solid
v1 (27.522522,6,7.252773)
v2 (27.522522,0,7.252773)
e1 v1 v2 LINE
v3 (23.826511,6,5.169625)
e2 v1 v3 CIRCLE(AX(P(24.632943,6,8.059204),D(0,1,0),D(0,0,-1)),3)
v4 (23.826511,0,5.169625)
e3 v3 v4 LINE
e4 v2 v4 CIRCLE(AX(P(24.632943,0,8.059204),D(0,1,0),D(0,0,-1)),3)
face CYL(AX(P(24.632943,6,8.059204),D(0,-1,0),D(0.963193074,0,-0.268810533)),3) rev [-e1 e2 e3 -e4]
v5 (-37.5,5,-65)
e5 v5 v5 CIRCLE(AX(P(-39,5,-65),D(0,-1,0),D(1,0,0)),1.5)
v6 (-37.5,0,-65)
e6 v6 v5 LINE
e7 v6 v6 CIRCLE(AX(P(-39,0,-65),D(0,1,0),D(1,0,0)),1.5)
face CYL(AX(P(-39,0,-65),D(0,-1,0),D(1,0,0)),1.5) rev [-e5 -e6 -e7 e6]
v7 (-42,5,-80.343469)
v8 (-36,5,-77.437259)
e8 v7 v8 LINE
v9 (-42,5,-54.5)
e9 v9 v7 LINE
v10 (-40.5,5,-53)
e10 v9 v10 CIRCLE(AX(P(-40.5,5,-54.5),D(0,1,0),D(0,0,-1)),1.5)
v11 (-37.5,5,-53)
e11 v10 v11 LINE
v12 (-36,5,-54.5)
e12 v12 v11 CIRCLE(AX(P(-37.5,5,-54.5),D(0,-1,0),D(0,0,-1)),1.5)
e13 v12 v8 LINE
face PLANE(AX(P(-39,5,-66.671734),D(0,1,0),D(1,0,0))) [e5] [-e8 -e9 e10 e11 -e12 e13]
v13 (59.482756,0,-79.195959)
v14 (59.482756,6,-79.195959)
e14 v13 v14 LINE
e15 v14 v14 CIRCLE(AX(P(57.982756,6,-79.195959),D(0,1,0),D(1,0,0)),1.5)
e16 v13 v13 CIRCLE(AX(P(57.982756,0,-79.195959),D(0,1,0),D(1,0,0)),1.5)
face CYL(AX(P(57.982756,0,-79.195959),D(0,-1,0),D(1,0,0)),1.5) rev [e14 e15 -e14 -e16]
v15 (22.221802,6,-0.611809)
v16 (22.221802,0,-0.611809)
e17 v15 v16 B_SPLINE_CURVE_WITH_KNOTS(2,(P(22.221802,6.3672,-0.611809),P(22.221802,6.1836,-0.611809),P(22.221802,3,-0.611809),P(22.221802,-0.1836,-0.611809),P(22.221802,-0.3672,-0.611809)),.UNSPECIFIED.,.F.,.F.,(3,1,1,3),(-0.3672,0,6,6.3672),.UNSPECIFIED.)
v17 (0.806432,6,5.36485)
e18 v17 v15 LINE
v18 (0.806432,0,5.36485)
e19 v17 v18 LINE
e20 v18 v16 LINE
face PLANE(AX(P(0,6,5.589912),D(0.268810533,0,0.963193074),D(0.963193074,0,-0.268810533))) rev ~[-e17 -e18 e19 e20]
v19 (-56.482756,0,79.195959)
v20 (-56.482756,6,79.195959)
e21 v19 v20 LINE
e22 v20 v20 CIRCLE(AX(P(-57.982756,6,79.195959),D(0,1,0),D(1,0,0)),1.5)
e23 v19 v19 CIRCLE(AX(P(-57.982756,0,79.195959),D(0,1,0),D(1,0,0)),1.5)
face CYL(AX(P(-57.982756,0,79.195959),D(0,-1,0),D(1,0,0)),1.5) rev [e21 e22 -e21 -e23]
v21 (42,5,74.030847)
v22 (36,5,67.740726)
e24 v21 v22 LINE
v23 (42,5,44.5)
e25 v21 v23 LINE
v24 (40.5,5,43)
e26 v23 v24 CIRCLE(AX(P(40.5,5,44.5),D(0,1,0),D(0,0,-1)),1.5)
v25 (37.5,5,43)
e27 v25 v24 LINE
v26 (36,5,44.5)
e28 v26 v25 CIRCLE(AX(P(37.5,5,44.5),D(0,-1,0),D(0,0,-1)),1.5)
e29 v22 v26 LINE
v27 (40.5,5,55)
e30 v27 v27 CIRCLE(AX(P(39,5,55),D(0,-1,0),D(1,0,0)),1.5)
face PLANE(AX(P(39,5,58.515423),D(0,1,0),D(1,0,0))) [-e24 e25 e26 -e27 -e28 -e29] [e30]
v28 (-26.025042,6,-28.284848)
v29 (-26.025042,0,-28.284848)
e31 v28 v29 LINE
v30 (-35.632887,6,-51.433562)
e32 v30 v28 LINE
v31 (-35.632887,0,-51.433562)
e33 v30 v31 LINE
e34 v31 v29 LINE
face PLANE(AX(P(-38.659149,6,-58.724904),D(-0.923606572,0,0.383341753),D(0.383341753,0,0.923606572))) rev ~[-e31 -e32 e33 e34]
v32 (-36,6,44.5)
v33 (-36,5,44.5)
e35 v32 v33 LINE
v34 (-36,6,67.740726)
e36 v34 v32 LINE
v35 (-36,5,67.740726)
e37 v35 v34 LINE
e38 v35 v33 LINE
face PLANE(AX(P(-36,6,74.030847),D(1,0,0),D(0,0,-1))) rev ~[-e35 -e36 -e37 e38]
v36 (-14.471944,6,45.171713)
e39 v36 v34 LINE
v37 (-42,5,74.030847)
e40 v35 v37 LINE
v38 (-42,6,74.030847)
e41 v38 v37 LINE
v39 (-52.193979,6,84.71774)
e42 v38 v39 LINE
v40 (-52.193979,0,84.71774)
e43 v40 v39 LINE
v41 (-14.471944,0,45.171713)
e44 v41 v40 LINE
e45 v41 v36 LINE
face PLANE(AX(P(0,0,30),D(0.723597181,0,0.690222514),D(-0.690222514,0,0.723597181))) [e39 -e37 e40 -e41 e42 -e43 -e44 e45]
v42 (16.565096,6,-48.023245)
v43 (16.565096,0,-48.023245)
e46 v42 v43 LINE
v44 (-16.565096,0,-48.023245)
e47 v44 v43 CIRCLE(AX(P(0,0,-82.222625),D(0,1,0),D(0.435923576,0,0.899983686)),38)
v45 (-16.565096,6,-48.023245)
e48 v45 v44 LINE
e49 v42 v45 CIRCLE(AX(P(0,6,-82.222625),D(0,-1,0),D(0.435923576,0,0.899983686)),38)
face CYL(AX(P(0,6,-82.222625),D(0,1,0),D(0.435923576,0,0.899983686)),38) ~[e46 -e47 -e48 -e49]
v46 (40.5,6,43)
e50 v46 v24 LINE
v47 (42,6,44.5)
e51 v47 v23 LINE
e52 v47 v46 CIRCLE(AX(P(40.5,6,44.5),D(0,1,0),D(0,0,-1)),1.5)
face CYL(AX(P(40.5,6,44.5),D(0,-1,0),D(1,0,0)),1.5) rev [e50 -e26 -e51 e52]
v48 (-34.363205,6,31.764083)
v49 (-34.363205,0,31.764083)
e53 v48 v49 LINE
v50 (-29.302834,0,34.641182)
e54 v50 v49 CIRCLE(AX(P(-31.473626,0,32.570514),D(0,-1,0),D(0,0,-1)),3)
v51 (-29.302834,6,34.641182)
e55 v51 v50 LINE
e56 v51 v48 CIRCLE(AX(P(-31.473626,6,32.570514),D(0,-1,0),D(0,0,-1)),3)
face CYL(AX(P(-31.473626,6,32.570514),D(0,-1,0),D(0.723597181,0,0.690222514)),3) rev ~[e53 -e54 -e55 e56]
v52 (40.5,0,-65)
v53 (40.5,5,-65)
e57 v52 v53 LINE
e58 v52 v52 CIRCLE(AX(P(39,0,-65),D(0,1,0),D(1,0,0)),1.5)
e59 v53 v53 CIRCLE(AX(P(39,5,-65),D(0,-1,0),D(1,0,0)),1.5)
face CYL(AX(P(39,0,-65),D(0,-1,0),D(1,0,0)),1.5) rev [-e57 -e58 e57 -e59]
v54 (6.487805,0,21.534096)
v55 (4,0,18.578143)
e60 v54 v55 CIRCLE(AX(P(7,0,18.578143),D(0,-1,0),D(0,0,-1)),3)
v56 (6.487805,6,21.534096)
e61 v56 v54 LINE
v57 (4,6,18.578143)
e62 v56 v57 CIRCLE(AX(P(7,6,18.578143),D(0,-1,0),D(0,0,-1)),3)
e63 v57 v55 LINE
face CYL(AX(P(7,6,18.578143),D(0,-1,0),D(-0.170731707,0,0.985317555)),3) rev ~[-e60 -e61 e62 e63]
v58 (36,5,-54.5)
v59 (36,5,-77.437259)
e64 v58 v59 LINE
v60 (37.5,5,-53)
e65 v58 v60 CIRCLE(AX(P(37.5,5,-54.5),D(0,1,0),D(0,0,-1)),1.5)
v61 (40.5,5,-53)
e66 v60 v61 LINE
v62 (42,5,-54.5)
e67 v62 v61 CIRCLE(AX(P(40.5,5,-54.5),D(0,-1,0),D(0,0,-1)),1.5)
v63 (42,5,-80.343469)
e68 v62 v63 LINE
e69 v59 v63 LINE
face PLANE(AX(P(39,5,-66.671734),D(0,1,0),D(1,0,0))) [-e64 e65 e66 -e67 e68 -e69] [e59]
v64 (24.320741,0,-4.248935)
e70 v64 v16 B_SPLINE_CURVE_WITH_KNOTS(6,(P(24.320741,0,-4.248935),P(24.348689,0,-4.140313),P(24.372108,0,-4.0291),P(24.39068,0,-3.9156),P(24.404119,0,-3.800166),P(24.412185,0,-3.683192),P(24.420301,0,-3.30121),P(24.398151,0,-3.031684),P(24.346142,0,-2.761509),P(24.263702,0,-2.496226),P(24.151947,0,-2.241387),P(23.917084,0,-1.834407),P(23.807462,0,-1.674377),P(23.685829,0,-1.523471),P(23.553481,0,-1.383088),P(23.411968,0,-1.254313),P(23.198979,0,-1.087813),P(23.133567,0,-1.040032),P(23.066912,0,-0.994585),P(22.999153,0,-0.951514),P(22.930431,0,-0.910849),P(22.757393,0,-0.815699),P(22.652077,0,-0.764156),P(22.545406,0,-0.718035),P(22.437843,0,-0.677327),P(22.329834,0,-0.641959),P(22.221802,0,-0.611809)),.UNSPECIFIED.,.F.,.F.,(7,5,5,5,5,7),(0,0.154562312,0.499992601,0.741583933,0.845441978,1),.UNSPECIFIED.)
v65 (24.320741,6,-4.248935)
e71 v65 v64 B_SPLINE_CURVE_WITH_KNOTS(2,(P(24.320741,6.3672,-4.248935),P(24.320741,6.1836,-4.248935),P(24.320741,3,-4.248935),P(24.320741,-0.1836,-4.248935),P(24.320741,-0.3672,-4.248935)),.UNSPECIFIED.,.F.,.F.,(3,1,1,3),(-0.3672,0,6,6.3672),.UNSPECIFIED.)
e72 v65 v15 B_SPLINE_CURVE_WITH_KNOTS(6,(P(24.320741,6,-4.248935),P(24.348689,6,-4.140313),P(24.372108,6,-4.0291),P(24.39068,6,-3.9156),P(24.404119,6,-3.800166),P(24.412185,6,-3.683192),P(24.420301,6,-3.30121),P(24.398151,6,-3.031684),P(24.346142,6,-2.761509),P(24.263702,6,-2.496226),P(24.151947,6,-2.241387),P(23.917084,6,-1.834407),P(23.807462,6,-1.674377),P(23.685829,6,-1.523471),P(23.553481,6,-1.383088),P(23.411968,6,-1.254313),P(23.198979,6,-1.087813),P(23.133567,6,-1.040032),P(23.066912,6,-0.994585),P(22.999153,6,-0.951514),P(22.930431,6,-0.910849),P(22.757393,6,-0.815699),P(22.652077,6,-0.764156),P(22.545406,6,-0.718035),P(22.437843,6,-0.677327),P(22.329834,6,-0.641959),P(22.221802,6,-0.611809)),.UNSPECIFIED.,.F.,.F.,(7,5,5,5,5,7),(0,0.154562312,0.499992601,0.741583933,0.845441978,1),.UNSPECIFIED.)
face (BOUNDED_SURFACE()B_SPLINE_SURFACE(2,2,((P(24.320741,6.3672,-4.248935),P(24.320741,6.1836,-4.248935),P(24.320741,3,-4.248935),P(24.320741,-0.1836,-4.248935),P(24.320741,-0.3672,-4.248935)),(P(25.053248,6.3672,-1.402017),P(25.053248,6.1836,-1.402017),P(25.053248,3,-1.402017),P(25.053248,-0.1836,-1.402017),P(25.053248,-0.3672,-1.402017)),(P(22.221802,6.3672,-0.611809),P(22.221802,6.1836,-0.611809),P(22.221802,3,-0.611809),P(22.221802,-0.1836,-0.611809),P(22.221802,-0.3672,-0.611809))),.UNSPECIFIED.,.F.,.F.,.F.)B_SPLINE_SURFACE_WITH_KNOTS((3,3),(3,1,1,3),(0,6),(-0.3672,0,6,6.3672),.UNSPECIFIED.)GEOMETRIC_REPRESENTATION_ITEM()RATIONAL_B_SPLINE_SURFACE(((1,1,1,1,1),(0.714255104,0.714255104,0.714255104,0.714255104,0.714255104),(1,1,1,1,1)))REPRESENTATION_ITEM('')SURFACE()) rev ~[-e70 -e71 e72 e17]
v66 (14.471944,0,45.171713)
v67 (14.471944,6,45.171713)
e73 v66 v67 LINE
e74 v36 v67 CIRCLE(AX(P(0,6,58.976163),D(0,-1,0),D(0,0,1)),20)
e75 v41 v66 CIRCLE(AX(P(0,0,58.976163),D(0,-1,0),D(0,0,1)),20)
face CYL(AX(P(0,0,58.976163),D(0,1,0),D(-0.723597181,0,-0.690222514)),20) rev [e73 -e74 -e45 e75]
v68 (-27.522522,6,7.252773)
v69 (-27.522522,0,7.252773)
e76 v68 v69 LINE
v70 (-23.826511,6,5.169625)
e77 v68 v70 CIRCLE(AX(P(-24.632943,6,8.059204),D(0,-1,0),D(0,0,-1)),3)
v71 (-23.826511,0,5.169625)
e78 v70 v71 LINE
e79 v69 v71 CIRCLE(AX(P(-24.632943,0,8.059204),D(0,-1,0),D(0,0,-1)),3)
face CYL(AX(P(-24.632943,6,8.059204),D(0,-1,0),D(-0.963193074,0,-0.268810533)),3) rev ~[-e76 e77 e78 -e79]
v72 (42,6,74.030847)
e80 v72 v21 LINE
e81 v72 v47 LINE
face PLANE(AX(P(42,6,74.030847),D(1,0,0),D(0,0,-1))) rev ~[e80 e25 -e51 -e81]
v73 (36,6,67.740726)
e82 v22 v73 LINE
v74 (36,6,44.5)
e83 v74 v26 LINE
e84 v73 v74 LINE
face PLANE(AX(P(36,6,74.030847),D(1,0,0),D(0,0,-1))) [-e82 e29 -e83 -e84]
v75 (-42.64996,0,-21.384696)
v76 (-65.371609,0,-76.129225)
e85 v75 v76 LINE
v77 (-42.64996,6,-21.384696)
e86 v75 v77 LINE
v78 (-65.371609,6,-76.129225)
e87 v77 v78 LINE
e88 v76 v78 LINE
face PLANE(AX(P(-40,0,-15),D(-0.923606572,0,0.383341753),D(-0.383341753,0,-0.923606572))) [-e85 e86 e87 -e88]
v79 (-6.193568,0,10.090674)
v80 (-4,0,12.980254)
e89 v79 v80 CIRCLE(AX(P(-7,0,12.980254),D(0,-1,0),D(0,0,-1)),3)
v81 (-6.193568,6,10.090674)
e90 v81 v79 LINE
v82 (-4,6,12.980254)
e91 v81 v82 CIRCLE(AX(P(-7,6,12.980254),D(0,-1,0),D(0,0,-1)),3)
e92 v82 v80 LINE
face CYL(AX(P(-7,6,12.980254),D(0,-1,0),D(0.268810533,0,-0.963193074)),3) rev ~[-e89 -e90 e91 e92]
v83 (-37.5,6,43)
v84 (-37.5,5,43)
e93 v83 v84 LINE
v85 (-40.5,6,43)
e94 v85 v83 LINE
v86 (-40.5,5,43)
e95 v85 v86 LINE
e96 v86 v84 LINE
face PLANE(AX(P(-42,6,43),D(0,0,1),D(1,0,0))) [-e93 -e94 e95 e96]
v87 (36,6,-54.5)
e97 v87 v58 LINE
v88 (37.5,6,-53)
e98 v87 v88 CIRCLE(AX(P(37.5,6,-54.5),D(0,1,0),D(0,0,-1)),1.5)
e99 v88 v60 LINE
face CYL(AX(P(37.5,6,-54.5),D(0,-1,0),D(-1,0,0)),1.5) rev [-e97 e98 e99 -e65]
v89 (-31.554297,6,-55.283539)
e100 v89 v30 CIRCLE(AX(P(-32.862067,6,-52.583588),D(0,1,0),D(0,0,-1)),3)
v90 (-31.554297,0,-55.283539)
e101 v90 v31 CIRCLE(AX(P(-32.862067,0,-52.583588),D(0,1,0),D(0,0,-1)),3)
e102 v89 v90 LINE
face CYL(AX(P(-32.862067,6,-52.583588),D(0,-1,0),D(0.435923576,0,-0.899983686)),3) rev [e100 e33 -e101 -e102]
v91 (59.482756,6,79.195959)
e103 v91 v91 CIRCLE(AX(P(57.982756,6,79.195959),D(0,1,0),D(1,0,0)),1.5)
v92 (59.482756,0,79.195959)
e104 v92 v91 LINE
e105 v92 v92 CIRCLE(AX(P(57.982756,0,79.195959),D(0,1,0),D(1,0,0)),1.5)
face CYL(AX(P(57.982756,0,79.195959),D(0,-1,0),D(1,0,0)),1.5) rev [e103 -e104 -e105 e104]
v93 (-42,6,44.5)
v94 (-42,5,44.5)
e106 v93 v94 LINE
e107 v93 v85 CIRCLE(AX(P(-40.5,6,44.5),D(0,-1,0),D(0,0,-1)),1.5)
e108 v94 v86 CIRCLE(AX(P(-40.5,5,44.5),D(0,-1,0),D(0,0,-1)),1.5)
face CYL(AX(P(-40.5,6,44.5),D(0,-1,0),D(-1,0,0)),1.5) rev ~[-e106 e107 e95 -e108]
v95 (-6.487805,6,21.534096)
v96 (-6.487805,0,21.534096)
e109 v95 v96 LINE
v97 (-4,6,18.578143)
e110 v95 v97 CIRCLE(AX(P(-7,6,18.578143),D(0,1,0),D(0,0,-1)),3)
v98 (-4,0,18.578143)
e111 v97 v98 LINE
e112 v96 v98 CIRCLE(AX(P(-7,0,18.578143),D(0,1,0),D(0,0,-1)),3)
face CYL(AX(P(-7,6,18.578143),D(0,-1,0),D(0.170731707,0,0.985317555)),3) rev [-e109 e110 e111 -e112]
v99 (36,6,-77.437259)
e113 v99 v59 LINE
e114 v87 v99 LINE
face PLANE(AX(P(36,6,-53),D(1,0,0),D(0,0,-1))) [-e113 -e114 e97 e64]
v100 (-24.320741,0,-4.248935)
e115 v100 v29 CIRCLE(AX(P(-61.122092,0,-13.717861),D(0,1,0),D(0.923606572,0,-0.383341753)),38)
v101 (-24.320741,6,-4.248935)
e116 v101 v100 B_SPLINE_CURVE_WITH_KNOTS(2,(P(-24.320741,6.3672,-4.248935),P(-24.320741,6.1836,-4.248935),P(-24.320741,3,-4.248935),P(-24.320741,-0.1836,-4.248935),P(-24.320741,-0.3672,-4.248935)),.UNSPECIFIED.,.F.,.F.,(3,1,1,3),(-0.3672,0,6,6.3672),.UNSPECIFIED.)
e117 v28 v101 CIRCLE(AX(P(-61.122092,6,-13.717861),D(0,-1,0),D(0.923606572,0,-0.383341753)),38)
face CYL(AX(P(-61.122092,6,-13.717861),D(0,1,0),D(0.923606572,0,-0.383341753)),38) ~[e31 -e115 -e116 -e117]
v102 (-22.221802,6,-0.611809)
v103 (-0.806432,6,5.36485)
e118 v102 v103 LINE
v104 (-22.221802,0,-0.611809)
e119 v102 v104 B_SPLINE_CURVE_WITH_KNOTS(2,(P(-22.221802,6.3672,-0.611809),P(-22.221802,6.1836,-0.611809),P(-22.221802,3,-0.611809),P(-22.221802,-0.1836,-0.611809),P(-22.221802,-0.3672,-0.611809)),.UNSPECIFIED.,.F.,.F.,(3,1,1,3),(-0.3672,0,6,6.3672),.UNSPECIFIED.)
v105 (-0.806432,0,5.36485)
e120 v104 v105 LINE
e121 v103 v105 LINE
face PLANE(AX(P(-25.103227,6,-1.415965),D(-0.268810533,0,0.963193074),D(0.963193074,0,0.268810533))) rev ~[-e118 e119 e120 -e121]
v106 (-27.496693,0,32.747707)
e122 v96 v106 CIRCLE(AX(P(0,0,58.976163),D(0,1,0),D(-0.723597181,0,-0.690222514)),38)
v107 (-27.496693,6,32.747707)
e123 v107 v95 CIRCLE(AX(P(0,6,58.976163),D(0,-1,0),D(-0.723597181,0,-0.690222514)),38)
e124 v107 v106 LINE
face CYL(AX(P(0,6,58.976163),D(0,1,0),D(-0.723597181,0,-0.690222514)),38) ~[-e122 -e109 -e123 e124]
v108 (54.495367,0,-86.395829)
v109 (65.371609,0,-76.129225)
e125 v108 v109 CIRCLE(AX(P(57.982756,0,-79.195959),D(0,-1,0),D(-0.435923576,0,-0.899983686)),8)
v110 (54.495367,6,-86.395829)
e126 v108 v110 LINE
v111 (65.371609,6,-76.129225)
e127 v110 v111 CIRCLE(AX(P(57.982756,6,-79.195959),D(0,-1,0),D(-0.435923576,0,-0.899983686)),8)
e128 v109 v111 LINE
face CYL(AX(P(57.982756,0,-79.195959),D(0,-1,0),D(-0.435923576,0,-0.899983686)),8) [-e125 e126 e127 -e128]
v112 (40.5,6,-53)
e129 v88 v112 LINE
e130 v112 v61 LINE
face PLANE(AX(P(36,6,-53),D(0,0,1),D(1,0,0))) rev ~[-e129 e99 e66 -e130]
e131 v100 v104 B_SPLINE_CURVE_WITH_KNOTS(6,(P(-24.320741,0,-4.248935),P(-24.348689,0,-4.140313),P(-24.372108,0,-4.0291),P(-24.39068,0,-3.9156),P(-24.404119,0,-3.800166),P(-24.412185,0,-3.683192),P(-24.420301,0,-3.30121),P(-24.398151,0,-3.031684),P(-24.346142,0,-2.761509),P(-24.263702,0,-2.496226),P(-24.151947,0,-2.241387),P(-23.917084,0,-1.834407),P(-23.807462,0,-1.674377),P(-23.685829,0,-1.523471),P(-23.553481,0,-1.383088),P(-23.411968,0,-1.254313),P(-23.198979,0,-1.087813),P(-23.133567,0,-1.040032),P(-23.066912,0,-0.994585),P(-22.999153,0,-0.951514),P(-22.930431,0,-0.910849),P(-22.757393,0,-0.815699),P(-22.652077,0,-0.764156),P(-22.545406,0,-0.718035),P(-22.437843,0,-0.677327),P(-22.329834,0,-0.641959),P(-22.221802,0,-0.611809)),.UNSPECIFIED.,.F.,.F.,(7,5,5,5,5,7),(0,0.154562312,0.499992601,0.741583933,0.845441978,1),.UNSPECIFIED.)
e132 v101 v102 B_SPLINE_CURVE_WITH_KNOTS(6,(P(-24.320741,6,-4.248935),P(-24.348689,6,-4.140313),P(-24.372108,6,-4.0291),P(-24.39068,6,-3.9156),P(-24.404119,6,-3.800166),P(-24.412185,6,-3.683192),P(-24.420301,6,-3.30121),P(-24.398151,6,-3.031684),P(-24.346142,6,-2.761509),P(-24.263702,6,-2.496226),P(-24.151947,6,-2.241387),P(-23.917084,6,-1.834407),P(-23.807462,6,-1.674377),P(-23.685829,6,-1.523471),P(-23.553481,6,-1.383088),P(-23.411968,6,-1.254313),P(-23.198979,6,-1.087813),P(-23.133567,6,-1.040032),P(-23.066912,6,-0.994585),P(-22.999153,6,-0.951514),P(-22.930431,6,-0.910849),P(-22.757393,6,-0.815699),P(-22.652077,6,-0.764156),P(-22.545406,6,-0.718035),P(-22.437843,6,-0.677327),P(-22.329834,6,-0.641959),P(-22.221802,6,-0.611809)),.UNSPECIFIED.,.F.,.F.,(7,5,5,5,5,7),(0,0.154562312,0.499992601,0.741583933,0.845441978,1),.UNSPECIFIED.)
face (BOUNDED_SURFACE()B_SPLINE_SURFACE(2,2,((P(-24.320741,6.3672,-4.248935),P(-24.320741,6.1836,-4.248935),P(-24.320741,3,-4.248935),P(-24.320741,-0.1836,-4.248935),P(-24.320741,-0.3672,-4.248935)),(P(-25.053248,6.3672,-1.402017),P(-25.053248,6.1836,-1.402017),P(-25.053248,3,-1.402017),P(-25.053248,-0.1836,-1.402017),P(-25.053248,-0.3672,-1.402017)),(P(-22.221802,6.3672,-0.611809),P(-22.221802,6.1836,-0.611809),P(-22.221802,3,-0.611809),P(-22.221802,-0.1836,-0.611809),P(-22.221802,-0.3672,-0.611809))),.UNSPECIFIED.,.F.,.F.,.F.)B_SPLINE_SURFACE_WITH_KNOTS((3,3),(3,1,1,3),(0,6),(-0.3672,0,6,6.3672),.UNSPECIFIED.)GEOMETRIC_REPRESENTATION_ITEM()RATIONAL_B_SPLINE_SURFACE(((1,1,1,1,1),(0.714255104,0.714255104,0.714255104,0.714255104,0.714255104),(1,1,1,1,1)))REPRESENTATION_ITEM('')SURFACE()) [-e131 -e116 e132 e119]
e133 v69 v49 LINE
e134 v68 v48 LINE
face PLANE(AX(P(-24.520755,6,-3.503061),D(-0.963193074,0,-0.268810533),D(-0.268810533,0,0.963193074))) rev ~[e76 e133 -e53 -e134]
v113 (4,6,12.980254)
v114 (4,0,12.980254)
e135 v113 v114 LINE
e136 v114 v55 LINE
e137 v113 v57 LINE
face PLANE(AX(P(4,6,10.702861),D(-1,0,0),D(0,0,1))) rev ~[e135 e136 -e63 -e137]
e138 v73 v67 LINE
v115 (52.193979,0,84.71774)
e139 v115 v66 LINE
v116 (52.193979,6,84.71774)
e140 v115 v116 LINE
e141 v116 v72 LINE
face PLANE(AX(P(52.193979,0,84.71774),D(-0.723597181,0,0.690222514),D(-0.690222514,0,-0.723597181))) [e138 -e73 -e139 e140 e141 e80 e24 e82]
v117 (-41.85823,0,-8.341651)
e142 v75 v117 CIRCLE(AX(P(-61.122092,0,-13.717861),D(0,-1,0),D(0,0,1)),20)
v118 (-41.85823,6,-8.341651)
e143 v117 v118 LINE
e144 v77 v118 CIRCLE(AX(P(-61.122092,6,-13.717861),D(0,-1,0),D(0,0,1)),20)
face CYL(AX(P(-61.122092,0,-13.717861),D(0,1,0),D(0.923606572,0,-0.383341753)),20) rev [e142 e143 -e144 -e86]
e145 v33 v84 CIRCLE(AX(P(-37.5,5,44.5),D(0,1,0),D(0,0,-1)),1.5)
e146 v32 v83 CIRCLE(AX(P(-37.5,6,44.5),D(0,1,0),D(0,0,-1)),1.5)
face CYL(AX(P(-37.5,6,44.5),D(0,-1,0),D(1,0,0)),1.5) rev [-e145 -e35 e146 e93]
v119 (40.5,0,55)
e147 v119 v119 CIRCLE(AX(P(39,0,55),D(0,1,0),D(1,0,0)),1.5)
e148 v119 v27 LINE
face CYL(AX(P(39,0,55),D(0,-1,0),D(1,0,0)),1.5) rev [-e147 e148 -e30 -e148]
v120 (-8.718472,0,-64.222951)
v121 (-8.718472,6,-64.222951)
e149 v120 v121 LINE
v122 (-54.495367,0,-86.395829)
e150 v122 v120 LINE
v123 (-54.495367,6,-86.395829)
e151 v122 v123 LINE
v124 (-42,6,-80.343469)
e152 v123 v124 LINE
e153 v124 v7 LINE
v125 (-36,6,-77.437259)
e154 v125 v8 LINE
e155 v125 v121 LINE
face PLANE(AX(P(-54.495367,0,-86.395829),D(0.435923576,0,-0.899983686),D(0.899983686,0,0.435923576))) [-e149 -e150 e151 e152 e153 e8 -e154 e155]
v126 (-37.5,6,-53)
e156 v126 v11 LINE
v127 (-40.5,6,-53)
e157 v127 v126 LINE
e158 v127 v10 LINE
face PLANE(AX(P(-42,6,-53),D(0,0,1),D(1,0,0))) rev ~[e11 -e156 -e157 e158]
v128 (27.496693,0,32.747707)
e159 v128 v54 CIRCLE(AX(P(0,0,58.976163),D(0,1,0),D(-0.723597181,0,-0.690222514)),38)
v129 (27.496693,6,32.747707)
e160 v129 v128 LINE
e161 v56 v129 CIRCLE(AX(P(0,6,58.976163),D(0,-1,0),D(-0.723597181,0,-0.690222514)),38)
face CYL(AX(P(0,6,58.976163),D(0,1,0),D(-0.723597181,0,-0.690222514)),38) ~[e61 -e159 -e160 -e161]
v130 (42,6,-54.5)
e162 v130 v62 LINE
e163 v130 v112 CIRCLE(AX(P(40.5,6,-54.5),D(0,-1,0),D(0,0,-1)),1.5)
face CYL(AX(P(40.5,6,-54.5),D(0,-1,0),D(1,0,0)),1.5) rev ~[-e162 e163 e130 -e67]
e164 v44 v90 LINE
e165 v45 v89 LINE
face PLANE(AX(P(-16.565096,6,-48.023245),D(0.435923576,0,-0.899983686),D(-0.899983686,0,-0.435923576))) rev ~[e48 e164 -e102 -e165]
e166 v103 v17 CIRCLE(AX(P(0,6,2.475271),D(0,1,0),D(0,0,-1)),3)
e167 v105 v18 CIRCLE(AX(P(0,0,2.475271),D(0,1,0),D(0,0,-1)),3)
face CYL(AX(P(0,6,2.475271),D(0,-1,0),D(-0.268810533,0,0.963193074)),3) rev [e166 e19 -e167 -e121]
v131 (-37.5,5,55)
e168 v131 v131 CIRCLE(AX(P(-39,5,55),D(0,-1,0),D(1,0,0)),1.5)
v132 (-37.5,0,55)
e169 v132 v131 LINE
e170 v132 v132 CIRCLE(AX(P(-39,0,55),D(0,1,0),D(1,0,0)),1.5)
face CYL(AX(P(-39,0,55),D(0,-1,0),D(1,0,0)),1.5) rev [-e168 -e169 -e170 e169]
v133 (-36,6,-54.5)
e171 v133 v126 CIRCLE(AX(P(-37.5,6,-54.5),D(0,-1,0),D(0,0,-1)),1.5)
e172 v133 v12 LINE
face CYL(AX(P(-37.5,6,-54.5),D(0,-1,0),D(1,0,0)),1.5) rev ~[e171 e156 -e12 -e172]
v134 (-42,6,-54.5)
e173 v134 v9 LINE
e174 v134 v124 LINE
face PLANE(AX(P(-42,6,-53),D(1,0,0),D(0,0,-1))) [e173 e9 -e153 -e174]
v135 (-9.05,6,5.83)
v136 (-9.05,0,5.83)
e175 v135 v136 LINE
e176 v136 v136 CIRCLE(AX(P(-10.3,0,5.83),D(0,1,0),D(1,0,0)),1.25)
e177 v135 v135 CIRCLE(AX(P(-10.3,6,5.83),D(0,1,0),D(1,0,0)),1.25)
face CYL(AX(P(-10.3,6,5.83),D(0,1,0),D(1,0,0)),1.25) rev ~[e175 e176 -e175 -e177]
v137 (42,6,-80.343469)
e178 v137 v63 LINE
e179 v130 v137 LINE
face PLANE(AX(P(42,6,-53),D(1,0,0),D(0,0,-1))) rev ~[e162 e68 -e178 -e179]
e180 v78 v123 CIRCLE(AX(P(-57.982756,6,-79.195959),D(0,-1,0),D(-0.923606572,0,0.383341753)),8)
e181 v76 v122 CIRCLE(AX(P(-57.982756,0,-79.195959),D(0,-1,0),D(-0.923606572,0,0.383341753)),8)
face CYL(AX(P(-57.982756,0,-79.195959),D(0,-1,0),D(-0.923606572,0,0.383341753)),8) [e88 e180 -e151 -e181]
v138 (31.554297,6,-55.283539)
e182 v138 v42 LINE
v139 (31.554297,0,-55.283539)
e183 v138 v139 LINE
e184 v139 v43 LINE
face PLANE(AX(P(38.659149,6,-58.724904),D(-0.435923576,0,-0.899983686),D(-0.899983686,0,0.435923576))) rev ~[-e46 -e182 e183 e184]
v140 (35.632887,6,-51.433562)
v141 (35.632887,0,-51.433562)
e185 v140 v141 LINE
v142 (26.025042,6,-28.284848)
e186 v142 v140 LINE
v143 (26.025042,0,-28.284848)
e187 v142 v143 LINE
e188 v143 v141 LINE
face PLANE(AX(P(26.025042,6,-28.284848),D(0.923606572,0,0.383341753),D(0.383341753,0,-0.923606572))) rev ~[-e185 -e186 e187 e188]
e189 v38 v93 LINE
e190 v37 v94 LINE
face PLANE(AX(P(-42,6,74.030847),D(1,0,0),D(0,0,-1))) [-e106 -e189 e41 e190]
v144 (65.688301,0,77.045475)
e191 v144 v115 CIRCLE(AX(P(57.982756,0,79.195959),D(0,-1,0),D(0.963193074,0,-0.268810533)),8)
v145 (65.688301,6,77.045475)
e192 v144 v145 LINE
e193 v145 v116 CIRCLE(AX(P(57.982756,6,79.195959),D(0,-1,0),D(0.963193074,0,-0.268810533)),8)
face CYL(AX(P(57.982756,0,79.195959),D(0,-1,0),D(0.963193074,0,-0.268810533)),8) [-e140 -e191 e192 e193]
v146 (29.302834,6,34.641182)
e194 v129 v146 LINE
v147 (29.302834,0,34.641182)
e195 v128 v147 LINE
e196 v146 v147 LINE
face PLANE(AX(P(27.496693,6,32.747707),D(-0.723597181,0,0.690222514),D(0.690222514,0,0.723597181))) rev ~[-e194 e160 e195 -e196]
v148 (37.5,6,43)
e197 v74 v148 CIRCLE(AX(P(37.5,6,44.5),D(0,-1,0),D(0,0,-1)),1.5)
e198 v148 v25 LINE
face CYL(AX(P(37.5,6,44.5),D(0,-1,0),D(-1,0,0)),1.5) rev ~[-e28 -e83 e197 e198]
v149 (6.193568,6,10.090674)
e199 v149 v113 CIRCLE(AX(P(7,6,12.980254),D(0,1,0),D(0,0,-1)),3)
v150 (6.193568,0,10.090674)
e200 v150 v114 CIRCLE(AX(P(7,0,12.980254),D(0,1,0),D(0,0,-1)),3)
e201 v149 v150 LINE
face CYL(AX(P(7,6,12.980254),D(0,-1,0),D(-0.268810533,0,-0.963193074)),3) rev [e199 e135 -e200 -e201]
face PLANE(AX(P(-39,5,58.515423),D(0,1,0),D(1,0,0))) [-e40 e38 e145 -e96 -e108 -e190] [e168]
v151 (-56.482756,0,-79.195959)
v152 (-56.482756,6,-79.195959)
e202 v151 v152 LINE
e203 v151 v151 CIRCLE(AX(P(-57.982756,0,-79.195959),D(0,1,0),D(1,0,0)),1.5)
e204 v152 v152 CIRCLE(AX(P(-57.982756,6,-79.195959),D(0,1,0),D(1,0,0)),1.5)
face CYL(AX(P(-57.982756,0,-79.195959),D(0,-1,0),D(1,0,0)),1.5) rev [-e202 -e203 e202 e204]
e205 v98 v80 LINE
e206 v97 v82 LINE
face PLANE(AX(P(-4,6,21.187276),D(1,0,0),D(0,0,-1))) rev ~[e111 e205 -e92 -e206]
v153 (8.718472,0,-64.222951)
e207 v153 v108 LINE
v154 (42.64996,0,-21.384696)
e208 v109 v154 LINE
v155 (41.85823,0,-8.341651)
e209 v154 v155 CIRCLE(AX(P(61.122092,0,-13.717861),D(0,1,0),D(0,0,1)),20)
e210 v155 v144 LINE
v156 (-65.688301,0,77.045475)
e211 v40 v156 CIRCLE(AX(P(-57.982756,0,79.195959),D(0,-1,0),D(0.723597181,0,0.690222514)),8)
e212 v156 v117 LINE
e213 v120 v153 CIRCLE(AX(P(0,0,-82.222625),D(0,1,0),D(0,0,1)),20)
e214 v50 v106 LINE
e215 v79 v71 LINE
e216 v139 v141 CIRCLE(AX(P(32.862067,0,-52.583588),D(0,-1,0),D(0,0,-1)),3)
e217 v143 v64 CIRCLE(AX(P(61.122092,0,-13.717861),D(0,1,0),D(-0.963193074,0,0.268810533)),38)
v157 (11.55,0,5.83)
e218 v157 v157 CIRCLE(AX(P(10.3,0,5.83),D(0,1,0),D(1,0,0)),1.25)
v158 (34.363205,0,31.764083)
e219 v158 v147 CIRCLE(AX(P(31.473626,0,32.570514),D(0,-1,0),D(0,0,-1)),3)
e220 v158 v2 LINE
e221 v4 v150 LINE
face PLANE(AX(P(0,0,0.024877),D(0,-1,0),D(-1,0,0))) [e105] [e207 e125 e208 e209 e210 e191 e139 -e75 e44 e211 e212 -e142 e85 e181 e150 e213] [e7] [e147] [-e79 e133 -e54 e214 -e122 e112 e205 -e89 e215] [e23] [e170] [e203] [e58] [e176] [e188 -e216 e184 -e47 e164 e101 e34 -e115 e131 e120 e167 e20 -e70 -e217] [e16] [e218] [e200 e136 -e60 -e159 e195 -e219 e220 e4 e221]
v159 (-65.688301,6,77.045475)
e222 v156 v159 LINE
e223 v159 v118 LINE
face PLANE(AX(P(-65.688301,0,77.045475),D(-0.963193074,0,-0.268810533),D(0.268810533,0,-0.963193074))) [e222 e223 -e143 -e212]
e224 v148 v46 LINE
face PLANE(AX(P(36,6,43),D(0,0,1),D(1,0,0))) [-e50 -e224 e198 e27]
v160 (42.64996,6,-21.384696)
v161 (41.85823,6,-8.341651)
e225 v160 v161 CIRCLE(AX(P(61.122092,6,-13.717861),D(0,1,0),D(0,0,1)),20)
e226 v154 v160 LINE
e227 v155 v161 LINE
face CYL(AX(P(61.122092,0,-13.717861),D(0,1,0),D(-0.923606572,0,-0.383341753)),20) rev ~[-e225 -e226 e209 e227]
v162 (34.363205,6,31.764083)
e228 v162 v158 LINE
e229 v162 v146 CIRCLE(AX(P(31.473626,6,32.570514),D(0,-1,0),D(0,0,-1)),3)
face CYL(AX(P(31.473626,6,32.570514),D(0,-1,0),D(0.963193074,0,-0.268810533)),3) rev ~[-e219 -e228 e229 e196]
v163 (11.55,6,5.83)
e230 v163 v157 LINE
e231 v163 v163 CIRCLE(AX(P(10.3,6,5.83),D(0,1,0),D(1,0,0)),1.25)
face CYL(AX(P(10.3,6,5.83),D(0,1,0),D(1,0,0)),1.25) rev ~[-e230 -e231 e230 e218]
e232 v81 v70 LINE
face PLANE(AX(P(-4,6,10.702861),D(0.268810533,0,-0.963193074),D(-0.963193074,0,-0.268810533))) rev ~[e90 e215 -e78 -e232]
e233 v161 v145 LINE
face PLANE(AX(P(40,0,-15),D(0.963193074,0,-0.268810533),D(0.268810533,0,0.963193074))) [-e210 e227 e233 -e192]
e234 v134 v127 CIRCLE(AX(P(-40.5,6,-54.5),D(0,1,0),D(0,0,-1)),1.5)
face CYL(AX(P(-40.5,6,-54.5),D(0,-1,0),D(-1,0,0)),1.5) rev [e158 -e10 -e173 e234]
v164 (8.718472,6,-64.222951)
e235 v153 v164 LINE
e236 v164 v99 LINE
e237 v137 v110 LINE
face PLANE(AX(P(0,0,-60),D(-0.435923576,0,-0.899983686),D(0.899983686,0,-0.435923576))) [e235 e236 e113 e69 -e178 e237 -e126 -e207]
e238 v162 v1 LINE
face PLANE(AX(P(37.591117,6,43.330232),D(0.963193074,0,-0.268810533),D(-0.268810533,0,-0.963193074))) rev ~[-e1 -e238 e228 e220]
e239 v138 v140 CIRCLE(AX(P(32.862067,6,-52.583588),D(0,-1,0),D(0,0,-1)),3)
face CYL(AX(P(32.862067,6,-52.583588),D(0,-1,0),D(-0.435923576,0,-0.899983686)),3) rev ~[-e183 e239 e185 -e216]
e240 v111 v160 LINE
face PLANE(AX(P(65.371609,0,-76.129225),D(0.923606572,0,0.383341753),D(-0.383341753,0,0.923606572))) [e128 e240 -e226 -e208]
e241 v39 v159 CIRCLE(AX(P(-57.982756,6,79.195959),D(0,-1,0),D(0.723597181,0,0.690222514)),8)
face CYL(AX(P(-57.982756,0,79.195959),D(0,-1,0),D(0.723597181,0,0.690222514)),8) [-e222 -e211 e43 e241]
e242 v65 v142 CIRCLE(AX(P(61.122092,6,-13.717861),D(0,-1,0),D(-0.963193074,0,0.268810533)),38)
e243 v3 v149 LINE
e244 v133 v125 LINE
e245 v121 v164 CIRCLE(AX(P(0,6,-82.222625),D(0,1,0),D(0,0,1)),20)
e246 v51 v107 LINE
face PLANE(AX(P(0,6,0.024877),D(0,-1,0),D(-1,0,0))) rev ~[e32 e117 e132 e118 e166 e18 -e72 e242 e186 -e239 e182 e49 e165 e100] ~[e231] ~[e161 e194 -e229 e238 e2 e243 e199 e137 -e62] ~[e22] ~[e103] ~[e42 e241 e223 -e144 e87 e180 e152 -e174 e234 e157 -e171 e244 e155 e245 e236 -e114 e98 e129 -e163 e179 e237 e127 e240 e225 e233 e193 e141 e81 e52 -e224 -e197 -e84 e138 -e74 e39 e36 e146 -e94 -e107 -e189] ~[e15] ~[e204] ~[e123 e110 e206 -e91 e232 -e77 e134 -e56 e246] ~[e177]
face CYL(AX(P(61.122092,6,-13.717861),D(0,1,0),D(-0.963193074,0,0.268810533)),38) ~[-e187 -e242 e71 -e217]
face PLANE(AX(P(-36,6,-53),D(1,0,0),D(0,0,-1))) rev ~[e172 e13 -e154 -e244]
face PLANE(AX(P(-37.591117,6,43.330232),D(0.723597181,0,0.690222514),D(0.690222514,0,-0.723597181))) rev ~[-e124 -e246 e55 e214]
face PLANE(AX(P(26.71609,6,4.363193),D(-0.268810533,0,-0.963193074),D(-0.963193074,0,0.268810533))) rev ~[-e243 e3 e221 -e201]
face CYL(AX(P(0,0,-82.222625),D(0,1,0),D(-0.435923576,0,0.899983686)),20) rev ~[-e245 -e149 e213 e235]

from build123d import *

# Parameters (mm, degrees)
SKETCH1_R           = 1.5
BOSS_EXTRUDE1_DEPTH = 6
FILLET1_R           = 20
CUT_EXTRUDE1_REACH  = 8
SKETCH5_R           = 1.25
BOSS_EXTRUDE2_DEPTH = 6
FILLET2_R           = 3
SKETCH6_W           = 6
SKETCH6_H           = 31.030846562
SKETCH6_H_2         = 27.343468982
CUT_EXTRUDE2_DEPTH  = 1
FILLET3_R           = 1.5


with BuildPart() as part:
    # Sketch1 → Boss-Extrude1 (new body)
    with BuildSketch(Plane(origin=(0, 0, 0), x_dir=(1, 0, 0), z_dir=(0, 1, 0))):
        with BuildLine():
            Line((-54.495367447, 86.395828983), (0, 60))
            Line((0, 60), (54.495367447, 86.395828983))
            ThreePointArc((54.495367447, 86.395828983), (63.474216903, 85.013506895), (65.371608634, 76.129225465))
            Line((65.371608634, 76.129225465), (40, 15))
            Line((40, 15), (65.688300647, -77.045475229))
            ThreePointArc((65.688300647, -77.045475229), (61.936793138, -86.150496915), (52.193978606, -84.717739607))
            Line((52.193978606, -84.717739607), (0, -30))
            Line((0, -30), (-52.193978606, -84.717739607))
            ThreePointArc((-52.193978606, -84.717739607), (-61.936793138, -86.150496915), (-65.688300647, -77.045475229))
            Line((-65.688300647, -77.045475229), (-40, 15))
            Line((-40, 15), (-65.371608634, 76.129225465))
            ThreePointArc((-65.371608634, 76.129225465), (-63.474216903, 85.013506895), (-54.495367447, 86.395828983))
        make_face()
        with Locations((-57.982756057, 79.195959493)):
            Circle(SKETCH1_R, mode=Mode.SUBTRACT)
        with Locations((57.982756057, 79.195959493)):
            Circle(SKETCH1_R, mode=Mode.SUBTRACT)
        with Locations((-57.982756057, -79.195959493)):
            Circle(SKETCH1_R, mode=Mode.SUBTRACT)
        with Locations((57.982756057, -79.195959493)):
            Circle(SKETCH1_R, mode=Mode.SUBTRACT)
        with Locations((-39, 65)):
            Circle(SKETCH1_R, mode=Mode.SUBTRACT)
        with Locations((39, 65)):
            Circle(SKETCH1_R, mode=Mode.SUBTRACT)
        with Locations((39, -55)):
            Circle(SKETCH1_R, mode=Mode.SUBTRACT)
        with Locations((-39, -55)):
            Circle(SKETCH1_R, mode=Mode.SUBTRACT)
    extrude(amount=BOSS_EXTRUDE1_DEPTH)

    # Fillet1
    fillet1_edges = [part.edges().sort_by_distance(p)[0] for p in [
        (0, 3, -60),
        (40, 3, -15),
        (0, 3, 30),
        (-40, 3, -15),
    ]]
    fillet(fillet1_edges, radius=FILLET1_R)

    # Sketch2 → Cut-Extrude1 (cut, up to next)
    with BuildSketch(Plane(origin=(0, 6, 0), x_dir=(1, 0, 0), z_dir=(0, 1, 0)), mode=Mode.PRIVATE) as cut_extrude1_sk1:
        with BuildLine():
            Line((-38.659149277, 58.724904233), (-26.025041931, 28.284847884))
            ThreePointArc((-26.025041931, 28.284847884), (-23.19190714, 16.020273346), (-24.520754868, 3.503060996))
            Line((-24.520754868, 3.503060996), (-37.591117294, -43.330232394))
            Line((-37.591117294, -43.330232394), (-27.496692892, -32.747707347))
            ThreePointArc((-27.496692892, -32.747707347), (0, -20.976162887), (27.496692892, -32.747707347))
            Line((27.496692892, -32.747707347), (37.591117294, -43.330232394))
            Line((37.591117294, -43.330232394), (24.520754868, 3.503060996))
            ThreePointArc((24.520754868, 3.503060996), (23.19190714, 16.020273346), (26.025041931, 28.284847884))
            Line((26.025041931, 28.284847884), (38.659149277, 58.724904233))
            Line((38.659149277, 58.724904233), (16.565095901, 48.023244958))
            ThreePointArc((16.565095901, 48.023244958), (0, 44.222625037), (-16.565095901, 48.023244958))
            Line((-16.565095901, 48.023244958), (-38.659149277, 58.724904233))
        make_face()
    cut_extrude1_tool1 = extrude(cut_extrude1_sk1.sketch, amount=-CUT_EXTRUDE1_REACH, mode=Mode.PRIVATE) & part.part
    add(cut_extrude1_tool1.solids().sort_by_distance((0, 6, -11.023996))[0], mode=Mode.SUBTRACT)

    # Sketch5 → Boss-Extrude2 (add)
    with BuildSketch(Plane(origin=(0, 6, 0), x_dir=(1, 0, 0), z_dir=(0, 1, 0))):
        with BuildLine():
            Line((-25.103227244, 1.415965109), (0, -5.589911573))
            Line((0, -5.589911573), (25.103227244, 1.415965109))
            Line((25.103227244, 1.415965109), (26.716090442, -4.363193333))
            Line((26.716090442, -4.363193333), (4, -10.702861409))
            Line((4, -10.702861409), (4, -21.187275631))
            ThreePointArc((4, -21.187275631), (0, -20.976162887), (-4, -21.187275631))
            Line((-4, -21.187275631), (-4, -10.702861409))
            Line((-4, -10.702861409), (-26.716090442, -4.363193333))
            Line((-26.716090442, -4.363193333), (-25.103227244, 1.415965109))
        make_face()
        with Locations((-10.3, -5.83)):
            Circle(SKETCH5_R, mode=Mode.SUBTRACT)
        with Locations((10.3, -5.83)):
            Circle(SKETCH5_R, mode=Mode.SUBTRACT)
    extrude(amount=-BOSS_EXTRUDE2_DEPTH)

    # Fillet2
    fillet2_edges = [part.edges().sort_by_distance(p)[0] for p in [
        (37.591117294, 3, 43.330232394),
        (-37.591117294, 3, 43.330232394),
        (38.659149277, 3, -58.724904233),
        (-38.659149277, 3, -58.724904233),
        (25.103227244, 3, -1.415965109),
        (-25.103227244, 3, -1.415965109),
        (0, 3, 5.589911573),
        (26.716090442, 3, 4.363193333),
        (4, 3, 10.702861409),
        (4, 3, 21.187275631),
        (-4, 3, 21.187275631),
        (-4, 3, 10.702861409),
        (-26.716090442, 3, 4.363193333),
    ]]
    fillet(fillet2_edges, radius=FILLET2_R)

    # Sketch6 → Cut-Extrude2 (cut)
    with BuildSketch(Plane(origin=(0, 6, 0), x_dir=(1, 0, 0), z_dir=(0, 1, 0))):
        with Locations((-39, -58.515423281)):
            Rectangle(SKETCH6_W, SKETCH6_H)
        with Locations((39, -58.515423281)):
            Rectangle(SKETCH6_W, SKETCH6_H)
        with Locations((39, 66.671734491)):
            Rectangle(SKETCH6_W, SKETCH6_H_2)
        with Locations((-39, 66.671734491)):
            Rectangle(SKETCH6_W, SKETCH6_H_2)
    extrude(amount=-CUT_EXTRUDE2_DEPTH, mode=Mode.SUBTRACT)

    # Fillet3
    fillet3_edges = [part.edges().sort_by_distance(p)[0] for p in [
        (-36, 5.5, 43),
        (-42, 5.5, 43),
        (36, 5.5, 43),
        (42, 5.5, 43),
        (36, 5.5, -53),
        (42, 5.5, -53),
        (-42, 5.5, -53),
        (-36, 5.5, -53),
    ]]
    fillet(fillet3_edges, radius=FILLET3_R)


solid = part.part
